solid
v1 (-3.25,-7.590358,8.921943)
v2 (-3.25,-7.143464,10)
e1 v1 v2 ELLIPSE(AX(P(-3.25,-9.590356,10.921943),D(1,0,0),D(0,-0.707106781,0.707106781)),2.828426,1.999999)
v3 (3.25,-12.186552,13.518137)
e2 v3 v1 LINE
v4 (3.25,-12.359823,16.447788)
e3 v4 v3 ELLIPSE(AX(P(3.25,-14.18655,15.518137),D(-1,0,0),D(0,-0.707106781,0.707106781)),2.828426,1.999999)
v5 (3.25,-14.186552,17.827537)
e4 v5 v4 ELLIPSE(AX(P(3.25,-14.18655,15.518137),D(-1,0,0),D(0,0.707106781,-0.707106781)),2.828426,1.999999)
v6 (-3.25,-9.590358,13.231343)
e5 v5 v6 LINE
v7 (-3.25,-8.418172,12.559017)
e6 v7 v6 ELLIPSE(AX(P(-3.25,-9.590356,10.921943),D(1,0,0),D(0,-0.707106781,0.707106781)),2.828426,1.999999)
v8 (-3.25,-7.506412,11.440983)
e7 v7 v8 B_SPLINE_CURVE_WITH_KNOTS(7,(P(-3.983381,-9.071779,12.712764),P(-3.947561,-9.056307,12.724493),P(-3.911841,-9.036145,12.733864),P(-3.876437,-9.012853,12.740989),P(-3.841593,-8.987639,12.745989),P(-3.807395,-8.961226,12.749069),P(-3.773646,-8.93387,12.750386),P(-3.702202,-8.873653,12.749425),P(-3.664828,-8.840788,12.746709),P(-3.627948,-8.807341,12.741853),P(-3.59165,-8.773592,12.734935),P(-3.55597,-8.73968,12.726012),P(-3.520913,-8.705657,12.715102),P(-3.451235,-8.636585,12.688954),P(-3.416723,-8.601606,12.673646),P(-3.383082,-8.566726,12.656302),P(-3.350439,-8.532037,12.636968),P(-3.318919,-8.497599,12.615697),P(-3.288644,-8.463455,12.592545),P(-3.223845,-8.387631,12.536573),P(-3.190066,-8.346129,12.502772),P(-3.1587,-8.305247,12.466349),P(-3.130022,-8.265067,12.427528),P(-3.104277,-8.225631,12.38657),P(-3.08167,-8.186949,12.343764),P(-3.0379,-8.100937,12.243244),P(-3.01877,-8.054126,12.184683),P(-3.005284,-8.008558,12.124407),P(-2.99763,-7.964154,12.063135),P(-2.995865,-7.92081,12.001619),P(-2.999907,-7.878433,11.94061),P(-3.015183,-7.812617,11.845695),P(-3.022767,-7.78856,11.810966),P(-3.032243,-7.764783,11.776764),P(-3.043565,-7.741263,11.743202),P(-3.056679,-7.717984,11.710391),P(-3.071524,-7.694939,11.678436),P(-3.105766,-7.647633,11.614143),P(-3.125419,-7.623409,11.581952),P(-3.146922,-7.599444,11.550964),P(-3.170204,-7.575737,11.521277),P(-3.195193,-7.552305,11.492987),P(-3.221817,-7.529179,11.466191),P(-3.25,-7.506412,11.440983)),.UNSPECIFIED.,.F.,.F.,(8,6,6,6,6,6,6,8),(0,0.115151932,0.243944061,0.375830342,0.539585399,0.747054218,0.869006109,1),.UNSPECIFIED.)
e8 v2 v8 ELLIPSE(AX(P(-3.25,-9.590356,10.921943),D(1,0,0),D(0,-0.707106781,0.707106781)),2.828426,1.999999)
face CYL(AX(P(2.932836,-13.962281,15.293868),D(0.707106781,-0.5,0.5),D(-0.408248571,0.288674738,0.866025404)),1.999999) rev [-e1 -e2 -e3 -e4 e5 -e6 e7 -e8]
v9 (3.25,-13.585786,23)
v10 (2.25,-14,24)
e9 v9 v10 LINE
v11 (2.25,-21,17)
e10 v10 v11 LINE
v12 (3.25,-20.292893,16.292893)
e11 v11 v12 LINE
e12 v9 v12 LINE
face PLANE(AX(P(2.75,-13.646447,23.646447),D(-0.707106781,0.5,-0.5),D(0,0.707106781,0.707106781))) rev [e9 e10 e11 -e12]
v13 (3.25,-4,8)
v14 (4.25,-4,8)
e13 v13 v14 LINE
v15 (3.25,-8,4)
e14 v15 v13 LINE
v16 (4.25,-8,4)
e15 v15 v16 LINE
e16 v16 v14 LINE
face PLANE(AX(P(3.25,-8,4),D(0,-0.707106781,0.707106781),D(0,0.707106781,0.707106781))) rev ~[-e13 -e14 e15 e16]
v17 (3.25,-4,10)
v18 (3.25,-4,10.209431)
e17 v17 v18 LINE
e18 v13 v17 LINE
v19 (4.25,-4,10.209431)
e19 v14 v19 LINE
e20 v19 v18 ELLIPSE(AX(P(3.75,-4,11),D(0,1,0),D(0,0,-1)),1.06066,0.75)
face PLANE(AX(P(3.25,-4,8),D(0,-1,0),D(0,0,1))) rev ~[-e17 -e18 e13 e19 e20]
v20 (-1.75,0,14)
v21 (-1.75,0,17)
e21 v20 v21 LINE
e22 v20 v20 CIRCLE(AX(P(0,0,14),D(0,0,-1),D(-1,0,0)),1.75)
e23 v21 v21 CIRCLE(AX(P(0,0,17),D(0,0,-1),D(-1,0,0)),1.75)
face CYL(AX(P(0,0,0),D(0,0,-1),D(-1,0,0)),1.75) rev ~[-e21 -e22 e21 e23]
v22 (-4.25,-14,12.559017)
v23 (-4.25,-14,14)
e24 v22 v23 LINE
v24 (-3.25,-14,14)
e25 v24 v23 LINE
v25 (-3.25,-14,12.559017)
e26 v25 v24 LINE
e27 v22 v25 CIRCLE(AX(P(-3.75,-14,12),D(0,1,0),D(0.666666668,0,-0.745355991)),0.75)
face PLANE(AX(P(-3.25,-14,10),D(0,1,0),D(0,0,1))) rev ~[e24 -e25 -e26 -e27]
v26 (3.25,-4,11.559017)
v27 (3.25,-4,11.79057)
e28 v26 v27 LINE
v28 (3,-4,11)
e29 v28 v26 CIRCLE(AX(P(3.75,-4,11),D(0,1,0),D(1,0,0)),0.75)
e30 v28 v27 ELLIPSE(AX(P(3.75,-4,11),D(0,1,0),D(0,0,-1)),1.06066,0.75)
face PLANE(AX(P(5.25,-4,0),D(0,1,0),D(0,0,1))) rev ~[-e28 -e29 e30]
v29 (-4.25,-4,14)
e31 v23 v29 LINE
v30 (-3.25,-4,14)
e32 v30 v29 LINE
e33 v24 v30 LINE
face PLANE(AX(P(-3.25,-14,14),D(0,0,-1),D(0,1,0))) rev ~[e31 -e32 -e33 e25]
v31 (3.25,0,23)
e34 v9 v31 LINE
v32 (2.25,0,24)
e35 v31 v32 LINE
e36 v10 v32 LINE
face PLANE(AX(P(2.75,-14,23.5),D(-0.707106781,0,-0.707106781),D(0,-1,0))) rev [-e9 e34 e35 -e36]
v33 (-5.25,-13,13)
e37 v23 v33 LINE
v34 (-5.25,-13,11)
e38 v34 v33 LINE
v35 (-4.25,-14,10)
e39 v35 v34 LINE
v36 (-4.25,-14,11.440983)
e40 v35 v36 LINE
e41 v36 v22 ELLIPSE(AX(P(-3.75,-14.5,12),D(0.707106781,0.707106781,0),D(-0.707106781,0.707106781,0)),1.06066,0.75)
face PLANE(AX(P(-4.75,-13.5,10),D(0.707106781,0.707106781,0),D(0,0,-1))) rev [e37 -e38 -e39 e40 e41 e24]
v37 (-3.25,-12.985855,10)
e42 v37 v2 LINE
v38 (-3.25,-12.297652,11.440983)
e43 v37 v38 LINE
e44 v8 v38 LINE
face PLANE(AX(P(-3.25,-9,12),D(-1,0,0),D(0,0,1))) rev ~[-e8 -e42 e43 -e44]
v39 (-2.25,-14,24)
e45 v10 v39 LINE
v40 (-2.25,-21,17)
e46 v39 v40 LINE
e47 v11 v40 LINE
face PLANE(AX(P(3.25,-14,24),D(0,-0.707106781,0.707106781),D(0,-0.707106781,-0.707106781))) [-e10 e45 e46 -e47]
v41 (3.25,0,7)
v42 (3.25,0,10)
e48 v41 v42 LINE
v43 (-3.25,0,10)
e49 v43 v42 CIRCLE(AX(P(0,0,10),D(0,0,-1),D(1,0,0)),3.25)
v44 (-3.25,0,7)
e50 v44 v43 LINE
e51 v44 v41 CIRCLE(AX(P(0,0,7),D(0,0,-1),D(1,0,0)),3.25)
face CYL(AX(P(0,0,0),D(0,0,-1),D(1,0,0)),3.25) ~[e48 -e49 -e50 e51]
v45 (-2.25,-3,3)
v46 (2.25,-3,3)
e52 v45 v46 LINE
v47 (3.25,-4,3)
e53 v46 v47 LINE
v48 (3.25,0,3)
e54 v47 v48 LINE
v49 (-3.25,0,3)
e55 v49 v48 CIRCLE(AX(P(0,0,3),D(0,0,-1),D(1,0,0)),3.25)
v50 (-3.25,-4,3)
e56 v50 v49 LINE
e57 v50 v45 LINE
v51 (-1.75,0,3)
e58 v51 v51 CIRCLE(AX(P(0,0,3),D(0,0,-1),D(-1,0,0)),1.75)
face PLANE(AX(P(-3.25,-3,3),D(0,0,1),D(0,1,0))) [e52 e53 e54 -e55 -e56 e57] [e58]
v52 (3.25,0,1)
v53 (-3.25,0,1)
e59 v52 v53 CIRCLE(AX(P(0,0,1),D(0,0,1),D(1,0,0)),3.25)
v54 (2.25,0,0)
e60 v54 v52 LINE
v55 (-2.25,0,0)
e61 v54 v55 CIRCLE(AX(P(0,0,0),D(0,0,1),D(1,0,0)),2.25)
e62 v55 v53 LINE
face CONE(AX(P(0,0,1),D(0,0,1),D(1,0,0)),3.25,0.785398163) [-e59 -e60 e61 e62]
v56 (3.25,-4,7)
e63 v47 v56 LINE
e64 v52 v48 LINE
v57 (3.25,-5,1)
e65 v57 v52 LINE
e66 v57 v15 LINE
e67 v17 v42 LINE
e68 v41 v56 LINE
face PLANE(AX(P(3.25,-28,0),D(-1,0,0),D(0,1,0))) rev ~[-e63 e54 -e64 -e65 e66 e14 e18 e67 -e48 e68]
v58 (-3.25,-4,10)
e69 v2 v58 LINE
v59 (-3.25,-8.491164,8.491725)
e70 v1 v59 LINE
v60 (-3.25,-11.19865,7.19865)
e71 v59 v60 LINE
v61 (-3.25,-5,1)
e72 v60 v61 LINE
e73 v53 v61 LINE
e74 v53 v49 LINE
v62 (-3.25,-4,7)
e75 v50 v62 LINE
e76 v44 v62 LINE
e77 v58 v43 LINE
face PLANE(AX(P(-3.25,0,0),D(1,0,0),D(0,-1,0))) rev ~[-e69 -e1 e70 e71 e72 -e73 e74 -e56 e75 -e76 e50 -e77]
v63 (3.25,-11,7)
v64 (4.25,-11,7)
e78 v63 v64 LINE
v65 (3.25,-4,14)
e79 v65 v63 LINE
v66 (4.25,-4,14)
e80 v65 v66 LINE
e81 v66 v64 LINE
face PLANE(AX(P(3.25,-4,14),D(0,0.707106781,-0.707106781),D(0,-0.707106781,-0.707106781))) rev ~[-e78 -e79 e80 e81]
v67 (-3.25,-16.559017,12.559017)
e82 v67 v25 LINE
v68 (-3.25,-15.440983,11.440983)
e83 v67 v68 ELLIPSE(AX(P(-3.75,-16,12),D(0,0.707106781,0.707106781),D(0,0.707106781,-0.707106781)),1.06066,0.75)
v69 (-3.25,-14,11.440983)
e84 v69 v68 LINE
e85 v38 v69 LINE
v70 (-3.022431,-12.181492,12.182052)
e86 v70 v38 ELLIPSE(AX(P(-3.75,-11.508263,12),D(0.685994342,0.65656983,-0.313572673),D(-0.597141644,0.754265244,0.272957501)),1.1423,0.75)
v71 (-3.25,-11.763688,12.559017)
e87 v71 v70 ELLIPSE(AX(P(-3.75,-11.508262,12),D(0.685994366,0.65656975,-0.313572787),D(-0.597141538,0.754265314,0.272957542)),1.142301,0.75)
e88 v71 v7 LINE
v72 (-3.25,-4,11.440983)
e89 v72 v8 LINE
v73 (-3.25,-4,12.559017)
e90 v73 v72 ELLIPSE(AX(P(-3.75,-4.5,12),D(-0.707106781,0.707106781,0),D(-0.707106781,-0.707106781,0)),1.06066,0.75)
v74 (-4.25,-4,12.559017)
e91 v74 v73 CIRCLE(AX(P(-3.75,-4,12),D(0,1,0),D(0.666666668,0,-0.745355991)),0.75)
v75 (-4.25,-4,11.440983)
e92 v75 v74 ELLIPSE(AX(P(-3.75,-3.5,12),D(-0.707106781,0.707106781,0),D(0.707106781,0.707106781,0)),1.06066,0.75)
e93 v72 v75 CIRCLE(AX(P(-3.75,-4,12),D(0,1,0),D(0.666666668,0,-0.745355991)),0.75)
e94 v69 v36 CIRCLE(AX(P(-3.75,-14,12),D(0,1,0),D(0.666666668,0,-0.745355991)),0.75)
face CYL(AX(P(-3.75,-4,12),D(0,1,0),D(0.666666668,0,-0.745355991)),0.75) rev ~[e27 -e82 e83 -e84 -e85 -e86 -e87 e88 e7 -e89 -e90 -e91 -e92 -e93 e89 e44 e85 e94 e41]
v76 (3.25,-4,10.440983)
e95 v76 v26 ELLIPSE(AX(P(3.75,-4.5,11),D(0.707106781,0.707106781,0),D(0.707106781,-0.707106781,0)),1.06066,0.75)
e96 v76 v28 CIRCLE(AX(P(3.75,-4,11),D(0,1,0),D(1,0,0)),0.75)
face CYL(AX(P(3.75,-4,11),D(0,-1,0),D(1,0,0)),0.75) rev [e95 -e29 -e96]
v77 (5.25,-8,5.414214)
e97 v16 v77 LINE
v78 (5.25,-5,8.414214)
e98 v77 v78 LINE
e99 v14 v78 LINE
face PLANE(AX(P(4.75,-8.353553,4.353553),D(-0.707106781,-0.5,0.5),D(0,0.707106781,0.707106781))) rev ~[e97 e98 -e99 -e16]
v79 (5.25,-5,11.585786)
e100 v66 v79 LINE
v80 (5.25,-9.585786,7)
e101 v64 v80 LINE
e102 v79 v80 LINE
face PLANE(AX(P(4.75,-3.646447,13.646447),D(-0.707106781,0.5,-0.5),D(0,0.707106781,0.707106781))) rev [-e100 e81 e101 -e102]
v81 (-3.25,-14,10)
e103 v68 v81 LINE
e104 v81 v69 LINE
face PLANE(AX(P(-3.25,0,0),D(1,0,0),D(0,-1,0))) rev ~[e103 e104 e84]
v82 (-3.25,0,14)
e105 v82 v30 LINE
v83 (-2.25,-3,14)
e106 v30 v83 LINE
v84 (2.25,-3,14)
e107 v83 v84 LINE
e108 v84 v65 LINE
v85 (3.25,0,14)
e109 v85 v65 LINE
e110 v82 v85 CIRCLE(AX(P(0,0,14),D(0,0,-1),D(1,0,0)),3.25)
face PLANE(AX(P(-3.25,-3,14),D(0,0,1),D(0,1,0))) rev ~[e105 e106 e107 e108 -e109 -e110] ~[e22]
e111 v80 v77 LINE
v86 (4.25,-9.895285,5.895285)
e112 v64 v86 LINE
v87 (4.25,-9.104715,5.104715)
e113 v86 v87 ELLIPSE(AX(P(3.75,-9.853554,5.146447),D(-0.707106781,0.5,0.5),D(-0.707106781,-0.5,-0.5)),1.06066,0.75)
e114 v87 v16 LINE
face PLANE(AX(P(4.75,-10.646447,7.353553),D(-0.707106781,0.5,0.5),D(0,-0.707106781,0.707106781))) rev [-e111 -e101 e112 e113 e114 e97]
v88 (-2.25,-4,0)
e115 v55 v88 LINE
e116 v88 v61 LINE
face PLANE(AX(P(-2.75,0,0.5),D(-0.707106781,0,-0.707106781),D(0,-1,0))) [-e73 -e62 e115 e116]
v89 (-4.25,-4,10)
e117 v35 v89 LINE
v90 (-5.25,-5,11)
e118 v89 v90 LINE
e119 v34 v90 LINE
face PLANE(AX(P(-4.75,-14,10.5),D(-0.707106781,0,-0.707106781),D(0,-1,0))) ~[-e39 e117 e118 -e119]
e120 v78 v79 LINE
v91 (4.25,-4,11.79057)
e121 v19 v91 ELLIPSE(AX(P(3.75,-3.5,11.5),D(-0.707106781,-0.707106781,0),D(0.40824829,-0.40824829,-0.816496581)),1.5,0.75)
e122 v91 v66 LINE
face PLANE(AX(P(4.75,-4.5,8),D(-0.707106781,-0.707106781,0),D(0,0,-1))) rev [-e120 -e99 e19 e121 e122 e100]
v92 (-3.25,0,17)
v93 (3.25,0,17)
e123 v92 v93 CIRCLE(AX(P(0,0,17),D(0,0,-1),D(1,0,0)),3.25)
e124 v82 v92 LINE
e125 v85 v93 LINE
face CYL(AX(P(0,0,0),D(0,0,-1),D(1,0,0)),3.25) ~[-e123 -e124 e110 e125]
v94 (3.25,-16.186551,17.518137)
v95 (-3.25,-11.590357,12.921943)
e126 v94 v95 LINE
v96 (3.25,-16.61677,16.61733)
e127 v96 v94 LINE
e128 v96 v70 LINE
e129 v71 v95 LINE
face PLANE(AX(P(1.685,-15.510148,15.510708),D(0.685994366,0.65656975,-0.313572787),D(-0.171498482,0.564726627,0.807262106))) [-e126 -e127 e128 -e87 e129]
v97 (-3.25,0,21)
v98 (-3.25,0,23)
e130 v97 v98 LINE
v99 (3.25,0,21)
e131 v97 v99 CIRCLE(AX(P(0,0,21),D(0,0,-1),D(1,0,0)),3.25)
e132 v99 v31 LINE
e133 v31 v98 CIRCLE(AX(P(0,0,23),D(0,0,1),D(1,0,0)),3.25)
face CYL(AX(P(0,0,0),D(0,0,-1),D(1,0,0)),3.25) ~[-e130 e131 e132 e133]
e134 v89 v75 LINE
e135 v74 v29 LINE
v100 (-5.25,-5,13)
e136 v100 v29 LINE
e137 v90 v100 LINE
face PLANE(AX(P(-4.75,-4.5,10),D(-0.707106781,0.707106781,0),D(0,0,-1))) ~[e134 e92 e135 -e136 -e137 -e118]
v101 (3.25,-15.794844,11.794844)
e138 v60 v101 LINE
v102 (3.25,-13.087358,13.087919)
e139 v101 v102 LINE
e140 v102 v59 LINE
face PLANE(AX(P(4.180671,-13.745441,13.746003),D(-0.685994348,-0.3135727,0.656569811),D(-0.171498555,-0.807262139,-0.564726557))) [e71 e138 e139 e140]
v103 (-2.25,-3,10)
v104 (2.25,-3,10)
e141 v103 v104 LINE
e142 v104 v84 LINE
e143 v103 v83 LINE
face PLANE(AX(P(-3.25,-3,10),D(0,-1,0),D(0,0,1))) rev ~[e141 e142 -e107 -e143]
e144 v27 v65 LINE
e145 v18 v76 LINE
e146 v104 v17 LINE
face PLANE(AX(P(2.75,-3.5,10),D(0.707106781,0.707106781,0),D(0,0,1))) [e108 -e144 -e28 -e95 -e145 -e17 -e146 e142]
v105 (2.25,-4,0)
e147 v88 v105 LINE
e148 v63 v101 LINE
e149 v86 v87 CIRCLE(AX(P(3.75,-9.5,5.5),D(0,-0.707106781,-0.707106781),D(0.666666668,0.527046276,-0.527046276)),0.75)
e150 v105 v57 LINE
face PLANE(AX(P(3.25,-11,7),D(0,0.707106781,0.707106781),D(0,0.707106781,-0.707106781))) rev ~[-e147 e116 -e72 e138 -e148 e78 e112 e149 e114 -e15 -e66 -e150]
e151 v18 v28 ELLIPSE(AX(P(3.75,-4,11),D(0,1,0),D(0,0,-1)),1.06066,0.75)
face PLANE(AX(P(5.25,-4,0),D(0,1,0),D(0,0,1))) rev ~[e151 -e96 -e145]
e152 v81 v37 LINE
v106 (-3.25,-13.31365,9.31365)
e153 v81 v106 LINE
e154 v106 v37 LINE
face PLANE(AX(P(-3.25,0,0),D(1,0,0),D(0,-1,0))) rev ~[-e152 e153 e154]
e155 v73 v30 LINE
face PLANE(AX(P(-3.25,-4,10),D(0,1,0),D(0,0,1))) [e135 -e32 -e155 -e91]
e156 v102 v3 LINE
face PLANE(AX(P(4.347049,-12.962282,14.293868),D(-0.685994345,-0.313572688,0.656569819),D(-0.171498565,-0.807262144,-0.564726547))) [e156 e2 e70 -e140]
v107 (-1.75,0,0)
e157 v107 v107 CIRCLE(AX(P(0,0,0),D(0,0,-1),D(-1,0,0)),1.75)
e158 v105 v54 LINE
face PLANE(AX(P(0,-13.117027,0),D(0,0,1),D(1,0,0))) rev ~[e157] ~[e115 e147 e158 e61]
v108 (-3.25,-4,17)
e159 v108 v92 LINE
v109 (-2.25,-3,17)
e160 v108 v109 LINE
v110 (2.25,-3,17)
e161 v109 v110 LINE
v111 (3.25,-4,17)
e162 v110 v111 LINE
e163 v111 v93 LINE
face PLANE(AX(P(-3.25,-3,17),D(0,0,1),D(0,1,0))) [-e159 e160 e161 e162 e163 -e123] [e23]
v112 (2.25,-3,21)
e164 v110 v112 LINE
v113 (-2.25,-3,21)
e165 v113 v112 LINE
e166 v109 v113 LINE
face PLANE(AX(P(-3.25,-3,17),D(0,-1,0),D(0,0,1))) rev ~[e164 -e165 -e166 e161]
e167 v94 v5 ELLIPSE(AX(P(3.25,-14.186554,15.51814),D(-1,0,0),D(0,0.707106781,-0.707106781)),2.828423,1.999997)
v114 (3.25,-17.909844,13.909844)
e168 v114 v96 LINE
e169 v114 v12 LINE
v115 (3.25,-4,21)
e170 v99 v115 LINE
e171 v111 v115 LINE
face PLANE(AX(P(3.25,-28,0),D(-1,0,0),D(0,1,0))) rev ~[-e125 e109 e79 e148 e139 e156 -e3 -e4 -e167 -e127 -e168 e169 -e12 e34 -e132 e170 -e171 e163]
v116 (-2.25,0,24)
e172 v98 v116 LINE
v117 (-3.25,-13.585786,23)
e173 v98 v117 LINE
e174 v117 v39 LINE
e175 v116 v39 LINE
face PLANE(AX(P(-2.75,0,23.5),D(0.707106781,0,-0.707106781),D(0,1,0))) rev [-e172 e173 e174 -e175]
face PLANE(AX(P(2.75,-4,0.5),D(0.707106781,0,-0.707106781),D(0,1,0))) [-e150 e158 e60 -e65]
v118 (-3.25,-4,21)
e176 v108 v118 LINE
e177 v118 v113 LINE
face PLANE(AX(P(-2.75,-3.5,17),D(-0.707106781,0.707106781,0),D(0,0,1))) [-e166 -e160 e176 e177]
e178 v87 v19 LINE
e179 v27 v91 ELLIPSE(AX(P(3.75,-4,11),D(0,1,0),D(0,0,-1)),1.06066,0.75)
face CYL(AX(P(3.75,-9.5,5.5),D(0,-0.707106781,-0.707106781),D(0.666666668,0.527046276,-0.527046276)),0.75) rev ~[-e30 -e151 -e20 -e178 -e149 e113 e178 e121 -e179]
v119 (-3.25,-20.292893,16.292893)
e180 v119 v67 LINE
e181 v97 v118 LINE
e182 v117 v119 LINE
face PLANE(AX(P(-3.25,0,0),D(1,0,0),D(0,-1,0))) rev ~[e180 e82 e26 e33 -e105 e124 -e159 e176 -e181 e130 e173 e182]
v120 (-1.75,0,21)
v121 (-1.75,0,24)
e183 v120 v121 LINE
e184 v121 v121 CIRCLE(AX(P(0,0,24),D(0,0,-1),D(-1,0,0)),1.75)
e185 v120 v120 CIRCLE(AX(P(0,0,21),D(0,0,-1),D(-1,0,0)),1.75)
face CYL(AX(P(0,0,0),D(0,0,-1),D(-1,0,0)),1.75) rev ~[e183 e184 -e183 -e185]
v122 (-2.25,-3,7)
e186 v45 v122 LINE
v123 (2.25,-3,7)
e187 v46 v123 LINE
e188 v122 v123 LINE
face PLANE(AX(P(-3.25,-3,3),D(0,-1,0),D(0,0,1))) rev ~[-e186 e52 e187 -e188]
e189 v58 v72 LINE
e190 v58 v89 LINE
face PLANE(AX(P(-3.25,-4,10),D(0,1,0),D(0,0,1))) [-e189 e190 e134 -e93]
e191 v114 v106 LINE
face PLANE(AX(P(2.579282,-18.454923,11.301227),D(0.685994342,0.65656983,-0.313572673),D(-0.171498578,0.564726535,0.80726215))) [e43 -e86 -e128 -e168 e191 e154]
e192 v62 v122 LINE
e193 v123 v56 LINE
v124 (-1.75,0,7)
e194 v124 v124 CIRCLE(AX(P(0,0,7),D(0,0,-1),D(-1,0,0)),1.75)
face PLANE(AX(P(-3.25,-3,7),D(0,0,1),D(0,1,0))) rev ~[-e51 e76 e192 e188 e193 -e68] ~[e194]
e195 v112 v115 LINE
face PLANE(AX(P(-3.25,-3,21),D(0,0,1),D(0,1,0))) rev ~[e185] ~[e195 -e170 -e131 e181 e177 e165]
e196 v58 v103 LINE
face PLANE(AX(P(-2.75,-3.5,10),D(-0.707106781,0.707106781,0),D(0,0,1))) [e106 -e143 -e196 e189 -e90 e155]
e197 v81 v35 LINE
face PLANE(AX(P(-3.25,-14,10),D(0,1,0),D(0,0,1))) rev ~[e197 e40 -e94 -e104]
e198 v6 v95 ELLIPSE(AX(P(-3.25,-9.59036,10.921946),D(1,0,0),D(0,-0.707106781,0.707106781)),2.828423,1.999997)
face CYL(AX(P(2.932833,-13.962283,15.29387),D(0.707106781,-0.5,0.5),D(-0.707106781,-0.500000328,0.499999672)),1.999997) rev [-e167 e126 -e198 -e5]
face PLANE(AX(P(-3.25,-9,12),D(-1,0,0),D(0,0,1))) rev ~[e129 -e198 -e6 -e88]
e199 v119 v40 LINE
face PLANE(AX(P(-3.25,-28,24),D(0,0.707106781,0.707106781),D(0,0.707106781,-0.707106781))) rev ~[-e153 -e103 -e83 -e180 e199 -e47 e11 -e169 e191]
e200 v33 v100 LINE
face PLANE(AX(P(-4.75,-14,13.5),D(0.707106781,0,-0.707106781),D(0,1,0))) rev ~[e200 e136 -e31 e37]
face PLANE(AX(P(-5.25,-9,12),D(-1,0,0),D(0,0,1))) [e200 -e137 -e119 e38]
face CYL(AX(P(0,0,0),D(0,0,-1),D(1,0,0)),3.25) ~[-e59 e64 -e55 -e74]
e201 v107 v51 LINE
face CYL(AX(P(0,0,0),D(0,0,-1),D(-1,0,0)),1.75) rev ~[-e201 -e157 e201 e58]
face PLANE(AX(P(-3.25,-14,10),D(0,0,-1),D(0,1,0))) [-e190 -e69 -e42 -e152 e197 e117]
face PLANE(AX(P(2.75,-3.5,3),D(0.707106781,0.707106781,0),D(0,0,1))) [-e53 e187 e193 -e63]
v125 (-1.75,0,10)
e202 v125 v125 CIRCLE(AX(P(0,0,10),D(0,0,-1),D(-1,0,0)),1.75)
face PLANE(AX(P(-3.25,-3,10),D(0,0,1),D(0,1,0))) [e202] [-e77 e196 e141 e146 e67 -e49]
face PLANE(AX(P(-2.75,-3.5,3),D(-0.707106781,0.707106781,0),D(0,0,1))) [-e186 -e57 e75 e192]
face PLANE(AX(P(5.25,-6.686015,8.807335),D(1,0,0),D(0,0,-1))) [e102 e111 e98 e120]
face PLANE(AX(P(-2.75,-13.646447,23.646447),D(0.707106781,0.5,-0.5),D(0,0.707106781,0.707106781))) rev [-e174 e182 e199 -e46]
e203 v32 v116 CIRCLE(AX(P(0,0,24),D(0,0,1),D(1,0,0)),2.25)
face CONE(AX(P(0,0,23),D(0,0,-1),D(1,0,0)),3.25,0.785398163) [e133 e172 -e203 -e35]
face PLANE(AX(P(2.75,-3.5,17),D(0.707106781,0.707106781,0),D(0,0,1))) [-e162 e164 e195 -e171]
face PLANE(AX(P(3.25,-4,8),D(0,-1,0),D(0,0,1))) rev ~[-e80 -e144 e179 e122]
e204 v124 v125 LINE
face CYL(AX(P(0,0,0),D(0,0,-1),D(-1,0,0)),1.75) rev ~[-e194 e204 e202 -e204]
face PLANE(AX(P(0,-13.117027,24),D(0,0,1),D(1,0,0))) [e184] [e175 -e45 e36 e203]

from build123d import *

# Parameters (mm, degrees)
BOSS_EXTRUDE1_DEPTH      = 24
SKETCH2_R                = 1.75
CUT_EXTRUDE1_DEPTH       = 24
SKETCH3_W                = 4
SKETCH3_H                = 7
CUT_EXTRUDE2_DEPTH       = 6.5
CHAMFER1_SIZE            = 1
CUT_EXTRUDE4_REACH       = 39.447
CUT_EXTRUDE5_DEPTH       = 38.446629
CHAMFER3_SIZE            = 1
CUT_EXTRUDE10_DEPTH      = 13
CUT_EXTRUDE10_DEPTH_BACK = 13
SKETCH11_W               = 4
SKETCH11_H               = 10
BOSS_EXTRUDE3_DEPTH      = 2
CHAMFER4_SIZE            = 1
SKETCH12_R               = 0.75
CUT_EXTRUDE6_DEPTH       = 2
CUT_EXTRUDE6_DEPTH_BACK  = 15
BOSS_EXTRUDE6_DEPTH      = 2
CHAMFER6_SIZE            = 1
CUT_EXTRUDE11_REACH      = 34.628
SKETCH19_R               = 0.75
SKETCH20_R               = 0.75
CUT_EXTRUDE12_DEPTH      = 1


with BuildPart() as part:
    # Sketch1 → Boss-Extrude1 (new body)
    with BuildSketch(Plane.XY):
        with BuildLine():
            Line((-3.25, 0), (-3.25, -28))
            Line((-3.25, -28), (3.25, -28))
            Line((3.25, -28), (3.25, 0))
            ThreePointArc((3.25, 0), (0, 3.25), (-3.25, 0))
        make_face()
    extrude(amount=BOSS_EXTRUDE1_DEPTH)

    # Sketch2 → Cut-Extrude1 (cut)
    with BuildSketch(Plane(origin=(0, 0, 0), x_dir=(-1, 0, 0), z_dir=(0, 0, -1))):
        Circle(SKETCH2_R)
    extrude(amount=-CUT_EXTRUDE1_DEPTH, mode=Mode.SUBTRACT)

    # Sketch3 → Cut-Extrude2 (cut)
    with BuildSketch(Plane.ZY.offset(3.25)):
        with Locations((5, 0.5)):
            Rectangle(SKETCH3_W, SKETCH3_H)
        with Locations((19, 0.5)):
            Rectangle(SKETCH3_W, SKETCH3_H)
        with Locations((12, 0.5)):
            Rectangle(SKETCH3_W, SKETCH3_H)
    extrude(amount=-CUT_EXTRUDE2_DEPTH, mode=Mode.SUBTRACT)

    # Chamfer1
    chamfer1_edges = [part.edges().sort_by_distance(p)[0] for p in [
        (3.25, -3, 5),
        (-3.25, -3, 5),
        (3.25, -3, 19),
        (-3.25, -3, 19),
        (3.25, -3, 12),
        (-3.25, -3, 12),
    ]]
    chamfer(chamfer1_edges, length=CHAMFER1_SIZE)

    # Sketch7 → Cut-Extrude4 (cut, up to next)
    with BuildSketch(Plane.ZY.offset(3.25), mode=Mode.PRIVATE) as cut_extrude4_sk1:
        Polygon((24, -28), (0, -4), (0, -28), align=None)
    cut_extrude4_tool1 = extrude(cut_extrude4_sk1.sketch, amount=-CUT_EXTRUDE4_REACH, mode=Mode.PRIVATE) & part.part
    add(cut_extrude4_tool1.solids().sort_by_distance((-3.25, -20, 8))[0], mode=Mode.SUBTRACT)

    # Sketch10 → Cut-Extrude5 (cut, through all)
    with BuildSketch(Plane(origin=(3.25, 0, 0), x_dir=(0, 0, -1), z_dir=(1, 0, 0))):
        Polygon((-24, -14), (-17, -21), (-24, -28), align=None)
    extrude(amount=-CUT_EXTRUDE5_DEPTH, mode=Mode.SUBTRACT)

    # Chamfer3
    chamfer3_edges = [part.edges().sort_by_distance(p)[0] for p in [
        (-3.25, -7, 24),
        (3.25, -2, 0),
        (3.25, -7, 24),
        (3.25, -17.5, 20.5),
        (-3.25, -17.5, 20.5),
        (-3.25, -2, 0),
        (0, 3.25, 0),
        (0, 3.25, 24),
    ]]
    chamfer(chamfer3_edges, length=CHAMFER3_SIZE)

    # Sketch18 → Cut-Extrude10 (cut, two sides)
    with BuildSketch(Plane(origin=(11.810029, -8.350951, 8.350951), x_dir=(-0.4082482904638629, 0.2886751345948129, 0.8660254037844388), z_dir=(-0.7071067811865475, 0.5000000000000001, -0.4999999999999999))) as cut_extrude10_sk:
        with BuildLine():
            ThreePointArc((6.229669, -8.809395), (6.383996, -10.861584), (8.267375, -11.691148))
            Line((8.267375, -11.691148), (9.17169, -11.339876))
            ThreePointArc((9.17169, -11.339876), (9.793137, -10.626285), (10.016989, -9.706883))
            ThreePointArc((10.016989, -9.706883), (8.936391, -7.930735), (6.862289, -8.07389))
            Line((6.862289, -8.07389), (6.229669, -8.809395))
        make_face()
        with BuildLine():
            Line((2.829335, -12.762736), (3.406685, -13.579233))
            Line((3.406685, -13.579233), (8.267375, -11.691148))
            ThreePointArc((8.267375, -11.691148), (6.383996, -10.861584), (6.229669, -8.809395))
            Line((6.229669, -8.809395), (2.829335, -12.762736))
        make_face()
    extrude(amount=CUT_EXTRUDE10_DEPTH, mode=Mode.SUBTRACT)
    extrude(cut_extrude10_sk.sketch, amount=-CUT_EXTRUDE10_DEPTH_BACK, mode=Mode.SUBTRACT)

    # Sketch11 → Boss-Extrude3 (add)
    with BuildSketch(Plane.ZY.offset(3.25)):
        with Locations((12, -9)):
            Rectangle(SKETCH11_W, SKETCH11_H)
    extrude(amount=BOSS_EXTRUDE3_DEPTH)

    # Chamfer4
    chamfer4_edges = [part.edges().sort_by_distance(p)[0] for p in [
        (-5.25, -9, 10),
        (-5.25, -14, 12),
        (-5.25, -9, 14),
        (-5.25, -4, 12),
    ]]
    chamfer(chamfer4_edges, length=CHAMFER4_SIZE)

    # Sketch12 → Cut-Extrude6 (cut, two sides)
    with BuildSketch(Plane(origin=(0, -4, 0), x_dir=(1, 0, 0), z_dir=(0, 1, 0))) as cut_extrude6_sk:
        with Locations(Location((-3.75, -12, 0), (0, 0, 48.189685))):
            Circle(SKETCH12_R)
    extrude(amount=CUT_EXTRUDE6_DEPTH, mode=Mode.SUBTRACT)
    extrude(cut_extrude6_sk.sketch, amount=-CUT_EXTRUDE6_DEPTH_BACK, mode=Mode.SUBTRACT)

    # Sketch14 → Boss-Extrude6 (add)
    with BuildSketch(Plane(origin=(3.25, 0, 0), x_dir=(0, 0, -1), z_dir=(1, 0, 0))):
        Polygon((-14, -4), (-7, -11), (-4, -8), (-8, -4), align=None)
    extrude(amount=BOSS_EXTRUDE6_DEPTH)

    # Chamfer6
    chamfer6_edges = [part.edges().sort_by_distance(p)[0] for p in [
        (5.25, -4, 11),
        (5.25, -9.5, 5.5),
        (5.25, -6, 6),
        (5.25, -7.5, 10.5),
    ]]
    chamfer(chamfer6_edges, length=CHAMFER6_SIZE)

    # Cut-Extrude11: up to this plane
    cut_extrude11_end = Plane(origin=(5.25, -4, 0), z_dir=(0, 1, 0))
    # Sketch19 → Cut-Extrude11 (cut, up to the surface)
    with BuildSketch(Plane(origin=(0, -2, -2), x_dir=(1, 0, 0), z_dir=(0, -0.7071067811865475, -0.7071067811865476)), mode=Mode.PRIVATE) as cut_extrude11_sk1:
        with Locations(Location((3.75, 10.606602, 0), (0, 0, 311.810315))):
            Circle(SKETCH19_R)
    cut_extrude11_tool1 = split(extrude(cut_extrude11_sk1.sketch, amount=-CUT_EXTRUDE11_REACH, mode=Mode.PRIVATE), bisect_by=cut_extrude11_end, keep=Keep.BOTH, mode=Mode.PRIVATE)
    add(cut_extrude11_tool1.solids().sort_by_distance((3.75, -9.5, 5.5))[0], mode=Mode.SUBTRACT)

    # Sketch20 → Cut-Extrude12 (cut)
    with BuildSketch(Plane(origin=(0, -4, 0), x_dir=(1, 0, 0), z_dir=(0, 1, 0))):
        with Locations((3.75, -11)):
            Circle(SKETCH20_R)
    extrude(amount=CUT_EXTRUDE12_DEPTH, mode=Mode.SUBTRACT)


solid = part.part
